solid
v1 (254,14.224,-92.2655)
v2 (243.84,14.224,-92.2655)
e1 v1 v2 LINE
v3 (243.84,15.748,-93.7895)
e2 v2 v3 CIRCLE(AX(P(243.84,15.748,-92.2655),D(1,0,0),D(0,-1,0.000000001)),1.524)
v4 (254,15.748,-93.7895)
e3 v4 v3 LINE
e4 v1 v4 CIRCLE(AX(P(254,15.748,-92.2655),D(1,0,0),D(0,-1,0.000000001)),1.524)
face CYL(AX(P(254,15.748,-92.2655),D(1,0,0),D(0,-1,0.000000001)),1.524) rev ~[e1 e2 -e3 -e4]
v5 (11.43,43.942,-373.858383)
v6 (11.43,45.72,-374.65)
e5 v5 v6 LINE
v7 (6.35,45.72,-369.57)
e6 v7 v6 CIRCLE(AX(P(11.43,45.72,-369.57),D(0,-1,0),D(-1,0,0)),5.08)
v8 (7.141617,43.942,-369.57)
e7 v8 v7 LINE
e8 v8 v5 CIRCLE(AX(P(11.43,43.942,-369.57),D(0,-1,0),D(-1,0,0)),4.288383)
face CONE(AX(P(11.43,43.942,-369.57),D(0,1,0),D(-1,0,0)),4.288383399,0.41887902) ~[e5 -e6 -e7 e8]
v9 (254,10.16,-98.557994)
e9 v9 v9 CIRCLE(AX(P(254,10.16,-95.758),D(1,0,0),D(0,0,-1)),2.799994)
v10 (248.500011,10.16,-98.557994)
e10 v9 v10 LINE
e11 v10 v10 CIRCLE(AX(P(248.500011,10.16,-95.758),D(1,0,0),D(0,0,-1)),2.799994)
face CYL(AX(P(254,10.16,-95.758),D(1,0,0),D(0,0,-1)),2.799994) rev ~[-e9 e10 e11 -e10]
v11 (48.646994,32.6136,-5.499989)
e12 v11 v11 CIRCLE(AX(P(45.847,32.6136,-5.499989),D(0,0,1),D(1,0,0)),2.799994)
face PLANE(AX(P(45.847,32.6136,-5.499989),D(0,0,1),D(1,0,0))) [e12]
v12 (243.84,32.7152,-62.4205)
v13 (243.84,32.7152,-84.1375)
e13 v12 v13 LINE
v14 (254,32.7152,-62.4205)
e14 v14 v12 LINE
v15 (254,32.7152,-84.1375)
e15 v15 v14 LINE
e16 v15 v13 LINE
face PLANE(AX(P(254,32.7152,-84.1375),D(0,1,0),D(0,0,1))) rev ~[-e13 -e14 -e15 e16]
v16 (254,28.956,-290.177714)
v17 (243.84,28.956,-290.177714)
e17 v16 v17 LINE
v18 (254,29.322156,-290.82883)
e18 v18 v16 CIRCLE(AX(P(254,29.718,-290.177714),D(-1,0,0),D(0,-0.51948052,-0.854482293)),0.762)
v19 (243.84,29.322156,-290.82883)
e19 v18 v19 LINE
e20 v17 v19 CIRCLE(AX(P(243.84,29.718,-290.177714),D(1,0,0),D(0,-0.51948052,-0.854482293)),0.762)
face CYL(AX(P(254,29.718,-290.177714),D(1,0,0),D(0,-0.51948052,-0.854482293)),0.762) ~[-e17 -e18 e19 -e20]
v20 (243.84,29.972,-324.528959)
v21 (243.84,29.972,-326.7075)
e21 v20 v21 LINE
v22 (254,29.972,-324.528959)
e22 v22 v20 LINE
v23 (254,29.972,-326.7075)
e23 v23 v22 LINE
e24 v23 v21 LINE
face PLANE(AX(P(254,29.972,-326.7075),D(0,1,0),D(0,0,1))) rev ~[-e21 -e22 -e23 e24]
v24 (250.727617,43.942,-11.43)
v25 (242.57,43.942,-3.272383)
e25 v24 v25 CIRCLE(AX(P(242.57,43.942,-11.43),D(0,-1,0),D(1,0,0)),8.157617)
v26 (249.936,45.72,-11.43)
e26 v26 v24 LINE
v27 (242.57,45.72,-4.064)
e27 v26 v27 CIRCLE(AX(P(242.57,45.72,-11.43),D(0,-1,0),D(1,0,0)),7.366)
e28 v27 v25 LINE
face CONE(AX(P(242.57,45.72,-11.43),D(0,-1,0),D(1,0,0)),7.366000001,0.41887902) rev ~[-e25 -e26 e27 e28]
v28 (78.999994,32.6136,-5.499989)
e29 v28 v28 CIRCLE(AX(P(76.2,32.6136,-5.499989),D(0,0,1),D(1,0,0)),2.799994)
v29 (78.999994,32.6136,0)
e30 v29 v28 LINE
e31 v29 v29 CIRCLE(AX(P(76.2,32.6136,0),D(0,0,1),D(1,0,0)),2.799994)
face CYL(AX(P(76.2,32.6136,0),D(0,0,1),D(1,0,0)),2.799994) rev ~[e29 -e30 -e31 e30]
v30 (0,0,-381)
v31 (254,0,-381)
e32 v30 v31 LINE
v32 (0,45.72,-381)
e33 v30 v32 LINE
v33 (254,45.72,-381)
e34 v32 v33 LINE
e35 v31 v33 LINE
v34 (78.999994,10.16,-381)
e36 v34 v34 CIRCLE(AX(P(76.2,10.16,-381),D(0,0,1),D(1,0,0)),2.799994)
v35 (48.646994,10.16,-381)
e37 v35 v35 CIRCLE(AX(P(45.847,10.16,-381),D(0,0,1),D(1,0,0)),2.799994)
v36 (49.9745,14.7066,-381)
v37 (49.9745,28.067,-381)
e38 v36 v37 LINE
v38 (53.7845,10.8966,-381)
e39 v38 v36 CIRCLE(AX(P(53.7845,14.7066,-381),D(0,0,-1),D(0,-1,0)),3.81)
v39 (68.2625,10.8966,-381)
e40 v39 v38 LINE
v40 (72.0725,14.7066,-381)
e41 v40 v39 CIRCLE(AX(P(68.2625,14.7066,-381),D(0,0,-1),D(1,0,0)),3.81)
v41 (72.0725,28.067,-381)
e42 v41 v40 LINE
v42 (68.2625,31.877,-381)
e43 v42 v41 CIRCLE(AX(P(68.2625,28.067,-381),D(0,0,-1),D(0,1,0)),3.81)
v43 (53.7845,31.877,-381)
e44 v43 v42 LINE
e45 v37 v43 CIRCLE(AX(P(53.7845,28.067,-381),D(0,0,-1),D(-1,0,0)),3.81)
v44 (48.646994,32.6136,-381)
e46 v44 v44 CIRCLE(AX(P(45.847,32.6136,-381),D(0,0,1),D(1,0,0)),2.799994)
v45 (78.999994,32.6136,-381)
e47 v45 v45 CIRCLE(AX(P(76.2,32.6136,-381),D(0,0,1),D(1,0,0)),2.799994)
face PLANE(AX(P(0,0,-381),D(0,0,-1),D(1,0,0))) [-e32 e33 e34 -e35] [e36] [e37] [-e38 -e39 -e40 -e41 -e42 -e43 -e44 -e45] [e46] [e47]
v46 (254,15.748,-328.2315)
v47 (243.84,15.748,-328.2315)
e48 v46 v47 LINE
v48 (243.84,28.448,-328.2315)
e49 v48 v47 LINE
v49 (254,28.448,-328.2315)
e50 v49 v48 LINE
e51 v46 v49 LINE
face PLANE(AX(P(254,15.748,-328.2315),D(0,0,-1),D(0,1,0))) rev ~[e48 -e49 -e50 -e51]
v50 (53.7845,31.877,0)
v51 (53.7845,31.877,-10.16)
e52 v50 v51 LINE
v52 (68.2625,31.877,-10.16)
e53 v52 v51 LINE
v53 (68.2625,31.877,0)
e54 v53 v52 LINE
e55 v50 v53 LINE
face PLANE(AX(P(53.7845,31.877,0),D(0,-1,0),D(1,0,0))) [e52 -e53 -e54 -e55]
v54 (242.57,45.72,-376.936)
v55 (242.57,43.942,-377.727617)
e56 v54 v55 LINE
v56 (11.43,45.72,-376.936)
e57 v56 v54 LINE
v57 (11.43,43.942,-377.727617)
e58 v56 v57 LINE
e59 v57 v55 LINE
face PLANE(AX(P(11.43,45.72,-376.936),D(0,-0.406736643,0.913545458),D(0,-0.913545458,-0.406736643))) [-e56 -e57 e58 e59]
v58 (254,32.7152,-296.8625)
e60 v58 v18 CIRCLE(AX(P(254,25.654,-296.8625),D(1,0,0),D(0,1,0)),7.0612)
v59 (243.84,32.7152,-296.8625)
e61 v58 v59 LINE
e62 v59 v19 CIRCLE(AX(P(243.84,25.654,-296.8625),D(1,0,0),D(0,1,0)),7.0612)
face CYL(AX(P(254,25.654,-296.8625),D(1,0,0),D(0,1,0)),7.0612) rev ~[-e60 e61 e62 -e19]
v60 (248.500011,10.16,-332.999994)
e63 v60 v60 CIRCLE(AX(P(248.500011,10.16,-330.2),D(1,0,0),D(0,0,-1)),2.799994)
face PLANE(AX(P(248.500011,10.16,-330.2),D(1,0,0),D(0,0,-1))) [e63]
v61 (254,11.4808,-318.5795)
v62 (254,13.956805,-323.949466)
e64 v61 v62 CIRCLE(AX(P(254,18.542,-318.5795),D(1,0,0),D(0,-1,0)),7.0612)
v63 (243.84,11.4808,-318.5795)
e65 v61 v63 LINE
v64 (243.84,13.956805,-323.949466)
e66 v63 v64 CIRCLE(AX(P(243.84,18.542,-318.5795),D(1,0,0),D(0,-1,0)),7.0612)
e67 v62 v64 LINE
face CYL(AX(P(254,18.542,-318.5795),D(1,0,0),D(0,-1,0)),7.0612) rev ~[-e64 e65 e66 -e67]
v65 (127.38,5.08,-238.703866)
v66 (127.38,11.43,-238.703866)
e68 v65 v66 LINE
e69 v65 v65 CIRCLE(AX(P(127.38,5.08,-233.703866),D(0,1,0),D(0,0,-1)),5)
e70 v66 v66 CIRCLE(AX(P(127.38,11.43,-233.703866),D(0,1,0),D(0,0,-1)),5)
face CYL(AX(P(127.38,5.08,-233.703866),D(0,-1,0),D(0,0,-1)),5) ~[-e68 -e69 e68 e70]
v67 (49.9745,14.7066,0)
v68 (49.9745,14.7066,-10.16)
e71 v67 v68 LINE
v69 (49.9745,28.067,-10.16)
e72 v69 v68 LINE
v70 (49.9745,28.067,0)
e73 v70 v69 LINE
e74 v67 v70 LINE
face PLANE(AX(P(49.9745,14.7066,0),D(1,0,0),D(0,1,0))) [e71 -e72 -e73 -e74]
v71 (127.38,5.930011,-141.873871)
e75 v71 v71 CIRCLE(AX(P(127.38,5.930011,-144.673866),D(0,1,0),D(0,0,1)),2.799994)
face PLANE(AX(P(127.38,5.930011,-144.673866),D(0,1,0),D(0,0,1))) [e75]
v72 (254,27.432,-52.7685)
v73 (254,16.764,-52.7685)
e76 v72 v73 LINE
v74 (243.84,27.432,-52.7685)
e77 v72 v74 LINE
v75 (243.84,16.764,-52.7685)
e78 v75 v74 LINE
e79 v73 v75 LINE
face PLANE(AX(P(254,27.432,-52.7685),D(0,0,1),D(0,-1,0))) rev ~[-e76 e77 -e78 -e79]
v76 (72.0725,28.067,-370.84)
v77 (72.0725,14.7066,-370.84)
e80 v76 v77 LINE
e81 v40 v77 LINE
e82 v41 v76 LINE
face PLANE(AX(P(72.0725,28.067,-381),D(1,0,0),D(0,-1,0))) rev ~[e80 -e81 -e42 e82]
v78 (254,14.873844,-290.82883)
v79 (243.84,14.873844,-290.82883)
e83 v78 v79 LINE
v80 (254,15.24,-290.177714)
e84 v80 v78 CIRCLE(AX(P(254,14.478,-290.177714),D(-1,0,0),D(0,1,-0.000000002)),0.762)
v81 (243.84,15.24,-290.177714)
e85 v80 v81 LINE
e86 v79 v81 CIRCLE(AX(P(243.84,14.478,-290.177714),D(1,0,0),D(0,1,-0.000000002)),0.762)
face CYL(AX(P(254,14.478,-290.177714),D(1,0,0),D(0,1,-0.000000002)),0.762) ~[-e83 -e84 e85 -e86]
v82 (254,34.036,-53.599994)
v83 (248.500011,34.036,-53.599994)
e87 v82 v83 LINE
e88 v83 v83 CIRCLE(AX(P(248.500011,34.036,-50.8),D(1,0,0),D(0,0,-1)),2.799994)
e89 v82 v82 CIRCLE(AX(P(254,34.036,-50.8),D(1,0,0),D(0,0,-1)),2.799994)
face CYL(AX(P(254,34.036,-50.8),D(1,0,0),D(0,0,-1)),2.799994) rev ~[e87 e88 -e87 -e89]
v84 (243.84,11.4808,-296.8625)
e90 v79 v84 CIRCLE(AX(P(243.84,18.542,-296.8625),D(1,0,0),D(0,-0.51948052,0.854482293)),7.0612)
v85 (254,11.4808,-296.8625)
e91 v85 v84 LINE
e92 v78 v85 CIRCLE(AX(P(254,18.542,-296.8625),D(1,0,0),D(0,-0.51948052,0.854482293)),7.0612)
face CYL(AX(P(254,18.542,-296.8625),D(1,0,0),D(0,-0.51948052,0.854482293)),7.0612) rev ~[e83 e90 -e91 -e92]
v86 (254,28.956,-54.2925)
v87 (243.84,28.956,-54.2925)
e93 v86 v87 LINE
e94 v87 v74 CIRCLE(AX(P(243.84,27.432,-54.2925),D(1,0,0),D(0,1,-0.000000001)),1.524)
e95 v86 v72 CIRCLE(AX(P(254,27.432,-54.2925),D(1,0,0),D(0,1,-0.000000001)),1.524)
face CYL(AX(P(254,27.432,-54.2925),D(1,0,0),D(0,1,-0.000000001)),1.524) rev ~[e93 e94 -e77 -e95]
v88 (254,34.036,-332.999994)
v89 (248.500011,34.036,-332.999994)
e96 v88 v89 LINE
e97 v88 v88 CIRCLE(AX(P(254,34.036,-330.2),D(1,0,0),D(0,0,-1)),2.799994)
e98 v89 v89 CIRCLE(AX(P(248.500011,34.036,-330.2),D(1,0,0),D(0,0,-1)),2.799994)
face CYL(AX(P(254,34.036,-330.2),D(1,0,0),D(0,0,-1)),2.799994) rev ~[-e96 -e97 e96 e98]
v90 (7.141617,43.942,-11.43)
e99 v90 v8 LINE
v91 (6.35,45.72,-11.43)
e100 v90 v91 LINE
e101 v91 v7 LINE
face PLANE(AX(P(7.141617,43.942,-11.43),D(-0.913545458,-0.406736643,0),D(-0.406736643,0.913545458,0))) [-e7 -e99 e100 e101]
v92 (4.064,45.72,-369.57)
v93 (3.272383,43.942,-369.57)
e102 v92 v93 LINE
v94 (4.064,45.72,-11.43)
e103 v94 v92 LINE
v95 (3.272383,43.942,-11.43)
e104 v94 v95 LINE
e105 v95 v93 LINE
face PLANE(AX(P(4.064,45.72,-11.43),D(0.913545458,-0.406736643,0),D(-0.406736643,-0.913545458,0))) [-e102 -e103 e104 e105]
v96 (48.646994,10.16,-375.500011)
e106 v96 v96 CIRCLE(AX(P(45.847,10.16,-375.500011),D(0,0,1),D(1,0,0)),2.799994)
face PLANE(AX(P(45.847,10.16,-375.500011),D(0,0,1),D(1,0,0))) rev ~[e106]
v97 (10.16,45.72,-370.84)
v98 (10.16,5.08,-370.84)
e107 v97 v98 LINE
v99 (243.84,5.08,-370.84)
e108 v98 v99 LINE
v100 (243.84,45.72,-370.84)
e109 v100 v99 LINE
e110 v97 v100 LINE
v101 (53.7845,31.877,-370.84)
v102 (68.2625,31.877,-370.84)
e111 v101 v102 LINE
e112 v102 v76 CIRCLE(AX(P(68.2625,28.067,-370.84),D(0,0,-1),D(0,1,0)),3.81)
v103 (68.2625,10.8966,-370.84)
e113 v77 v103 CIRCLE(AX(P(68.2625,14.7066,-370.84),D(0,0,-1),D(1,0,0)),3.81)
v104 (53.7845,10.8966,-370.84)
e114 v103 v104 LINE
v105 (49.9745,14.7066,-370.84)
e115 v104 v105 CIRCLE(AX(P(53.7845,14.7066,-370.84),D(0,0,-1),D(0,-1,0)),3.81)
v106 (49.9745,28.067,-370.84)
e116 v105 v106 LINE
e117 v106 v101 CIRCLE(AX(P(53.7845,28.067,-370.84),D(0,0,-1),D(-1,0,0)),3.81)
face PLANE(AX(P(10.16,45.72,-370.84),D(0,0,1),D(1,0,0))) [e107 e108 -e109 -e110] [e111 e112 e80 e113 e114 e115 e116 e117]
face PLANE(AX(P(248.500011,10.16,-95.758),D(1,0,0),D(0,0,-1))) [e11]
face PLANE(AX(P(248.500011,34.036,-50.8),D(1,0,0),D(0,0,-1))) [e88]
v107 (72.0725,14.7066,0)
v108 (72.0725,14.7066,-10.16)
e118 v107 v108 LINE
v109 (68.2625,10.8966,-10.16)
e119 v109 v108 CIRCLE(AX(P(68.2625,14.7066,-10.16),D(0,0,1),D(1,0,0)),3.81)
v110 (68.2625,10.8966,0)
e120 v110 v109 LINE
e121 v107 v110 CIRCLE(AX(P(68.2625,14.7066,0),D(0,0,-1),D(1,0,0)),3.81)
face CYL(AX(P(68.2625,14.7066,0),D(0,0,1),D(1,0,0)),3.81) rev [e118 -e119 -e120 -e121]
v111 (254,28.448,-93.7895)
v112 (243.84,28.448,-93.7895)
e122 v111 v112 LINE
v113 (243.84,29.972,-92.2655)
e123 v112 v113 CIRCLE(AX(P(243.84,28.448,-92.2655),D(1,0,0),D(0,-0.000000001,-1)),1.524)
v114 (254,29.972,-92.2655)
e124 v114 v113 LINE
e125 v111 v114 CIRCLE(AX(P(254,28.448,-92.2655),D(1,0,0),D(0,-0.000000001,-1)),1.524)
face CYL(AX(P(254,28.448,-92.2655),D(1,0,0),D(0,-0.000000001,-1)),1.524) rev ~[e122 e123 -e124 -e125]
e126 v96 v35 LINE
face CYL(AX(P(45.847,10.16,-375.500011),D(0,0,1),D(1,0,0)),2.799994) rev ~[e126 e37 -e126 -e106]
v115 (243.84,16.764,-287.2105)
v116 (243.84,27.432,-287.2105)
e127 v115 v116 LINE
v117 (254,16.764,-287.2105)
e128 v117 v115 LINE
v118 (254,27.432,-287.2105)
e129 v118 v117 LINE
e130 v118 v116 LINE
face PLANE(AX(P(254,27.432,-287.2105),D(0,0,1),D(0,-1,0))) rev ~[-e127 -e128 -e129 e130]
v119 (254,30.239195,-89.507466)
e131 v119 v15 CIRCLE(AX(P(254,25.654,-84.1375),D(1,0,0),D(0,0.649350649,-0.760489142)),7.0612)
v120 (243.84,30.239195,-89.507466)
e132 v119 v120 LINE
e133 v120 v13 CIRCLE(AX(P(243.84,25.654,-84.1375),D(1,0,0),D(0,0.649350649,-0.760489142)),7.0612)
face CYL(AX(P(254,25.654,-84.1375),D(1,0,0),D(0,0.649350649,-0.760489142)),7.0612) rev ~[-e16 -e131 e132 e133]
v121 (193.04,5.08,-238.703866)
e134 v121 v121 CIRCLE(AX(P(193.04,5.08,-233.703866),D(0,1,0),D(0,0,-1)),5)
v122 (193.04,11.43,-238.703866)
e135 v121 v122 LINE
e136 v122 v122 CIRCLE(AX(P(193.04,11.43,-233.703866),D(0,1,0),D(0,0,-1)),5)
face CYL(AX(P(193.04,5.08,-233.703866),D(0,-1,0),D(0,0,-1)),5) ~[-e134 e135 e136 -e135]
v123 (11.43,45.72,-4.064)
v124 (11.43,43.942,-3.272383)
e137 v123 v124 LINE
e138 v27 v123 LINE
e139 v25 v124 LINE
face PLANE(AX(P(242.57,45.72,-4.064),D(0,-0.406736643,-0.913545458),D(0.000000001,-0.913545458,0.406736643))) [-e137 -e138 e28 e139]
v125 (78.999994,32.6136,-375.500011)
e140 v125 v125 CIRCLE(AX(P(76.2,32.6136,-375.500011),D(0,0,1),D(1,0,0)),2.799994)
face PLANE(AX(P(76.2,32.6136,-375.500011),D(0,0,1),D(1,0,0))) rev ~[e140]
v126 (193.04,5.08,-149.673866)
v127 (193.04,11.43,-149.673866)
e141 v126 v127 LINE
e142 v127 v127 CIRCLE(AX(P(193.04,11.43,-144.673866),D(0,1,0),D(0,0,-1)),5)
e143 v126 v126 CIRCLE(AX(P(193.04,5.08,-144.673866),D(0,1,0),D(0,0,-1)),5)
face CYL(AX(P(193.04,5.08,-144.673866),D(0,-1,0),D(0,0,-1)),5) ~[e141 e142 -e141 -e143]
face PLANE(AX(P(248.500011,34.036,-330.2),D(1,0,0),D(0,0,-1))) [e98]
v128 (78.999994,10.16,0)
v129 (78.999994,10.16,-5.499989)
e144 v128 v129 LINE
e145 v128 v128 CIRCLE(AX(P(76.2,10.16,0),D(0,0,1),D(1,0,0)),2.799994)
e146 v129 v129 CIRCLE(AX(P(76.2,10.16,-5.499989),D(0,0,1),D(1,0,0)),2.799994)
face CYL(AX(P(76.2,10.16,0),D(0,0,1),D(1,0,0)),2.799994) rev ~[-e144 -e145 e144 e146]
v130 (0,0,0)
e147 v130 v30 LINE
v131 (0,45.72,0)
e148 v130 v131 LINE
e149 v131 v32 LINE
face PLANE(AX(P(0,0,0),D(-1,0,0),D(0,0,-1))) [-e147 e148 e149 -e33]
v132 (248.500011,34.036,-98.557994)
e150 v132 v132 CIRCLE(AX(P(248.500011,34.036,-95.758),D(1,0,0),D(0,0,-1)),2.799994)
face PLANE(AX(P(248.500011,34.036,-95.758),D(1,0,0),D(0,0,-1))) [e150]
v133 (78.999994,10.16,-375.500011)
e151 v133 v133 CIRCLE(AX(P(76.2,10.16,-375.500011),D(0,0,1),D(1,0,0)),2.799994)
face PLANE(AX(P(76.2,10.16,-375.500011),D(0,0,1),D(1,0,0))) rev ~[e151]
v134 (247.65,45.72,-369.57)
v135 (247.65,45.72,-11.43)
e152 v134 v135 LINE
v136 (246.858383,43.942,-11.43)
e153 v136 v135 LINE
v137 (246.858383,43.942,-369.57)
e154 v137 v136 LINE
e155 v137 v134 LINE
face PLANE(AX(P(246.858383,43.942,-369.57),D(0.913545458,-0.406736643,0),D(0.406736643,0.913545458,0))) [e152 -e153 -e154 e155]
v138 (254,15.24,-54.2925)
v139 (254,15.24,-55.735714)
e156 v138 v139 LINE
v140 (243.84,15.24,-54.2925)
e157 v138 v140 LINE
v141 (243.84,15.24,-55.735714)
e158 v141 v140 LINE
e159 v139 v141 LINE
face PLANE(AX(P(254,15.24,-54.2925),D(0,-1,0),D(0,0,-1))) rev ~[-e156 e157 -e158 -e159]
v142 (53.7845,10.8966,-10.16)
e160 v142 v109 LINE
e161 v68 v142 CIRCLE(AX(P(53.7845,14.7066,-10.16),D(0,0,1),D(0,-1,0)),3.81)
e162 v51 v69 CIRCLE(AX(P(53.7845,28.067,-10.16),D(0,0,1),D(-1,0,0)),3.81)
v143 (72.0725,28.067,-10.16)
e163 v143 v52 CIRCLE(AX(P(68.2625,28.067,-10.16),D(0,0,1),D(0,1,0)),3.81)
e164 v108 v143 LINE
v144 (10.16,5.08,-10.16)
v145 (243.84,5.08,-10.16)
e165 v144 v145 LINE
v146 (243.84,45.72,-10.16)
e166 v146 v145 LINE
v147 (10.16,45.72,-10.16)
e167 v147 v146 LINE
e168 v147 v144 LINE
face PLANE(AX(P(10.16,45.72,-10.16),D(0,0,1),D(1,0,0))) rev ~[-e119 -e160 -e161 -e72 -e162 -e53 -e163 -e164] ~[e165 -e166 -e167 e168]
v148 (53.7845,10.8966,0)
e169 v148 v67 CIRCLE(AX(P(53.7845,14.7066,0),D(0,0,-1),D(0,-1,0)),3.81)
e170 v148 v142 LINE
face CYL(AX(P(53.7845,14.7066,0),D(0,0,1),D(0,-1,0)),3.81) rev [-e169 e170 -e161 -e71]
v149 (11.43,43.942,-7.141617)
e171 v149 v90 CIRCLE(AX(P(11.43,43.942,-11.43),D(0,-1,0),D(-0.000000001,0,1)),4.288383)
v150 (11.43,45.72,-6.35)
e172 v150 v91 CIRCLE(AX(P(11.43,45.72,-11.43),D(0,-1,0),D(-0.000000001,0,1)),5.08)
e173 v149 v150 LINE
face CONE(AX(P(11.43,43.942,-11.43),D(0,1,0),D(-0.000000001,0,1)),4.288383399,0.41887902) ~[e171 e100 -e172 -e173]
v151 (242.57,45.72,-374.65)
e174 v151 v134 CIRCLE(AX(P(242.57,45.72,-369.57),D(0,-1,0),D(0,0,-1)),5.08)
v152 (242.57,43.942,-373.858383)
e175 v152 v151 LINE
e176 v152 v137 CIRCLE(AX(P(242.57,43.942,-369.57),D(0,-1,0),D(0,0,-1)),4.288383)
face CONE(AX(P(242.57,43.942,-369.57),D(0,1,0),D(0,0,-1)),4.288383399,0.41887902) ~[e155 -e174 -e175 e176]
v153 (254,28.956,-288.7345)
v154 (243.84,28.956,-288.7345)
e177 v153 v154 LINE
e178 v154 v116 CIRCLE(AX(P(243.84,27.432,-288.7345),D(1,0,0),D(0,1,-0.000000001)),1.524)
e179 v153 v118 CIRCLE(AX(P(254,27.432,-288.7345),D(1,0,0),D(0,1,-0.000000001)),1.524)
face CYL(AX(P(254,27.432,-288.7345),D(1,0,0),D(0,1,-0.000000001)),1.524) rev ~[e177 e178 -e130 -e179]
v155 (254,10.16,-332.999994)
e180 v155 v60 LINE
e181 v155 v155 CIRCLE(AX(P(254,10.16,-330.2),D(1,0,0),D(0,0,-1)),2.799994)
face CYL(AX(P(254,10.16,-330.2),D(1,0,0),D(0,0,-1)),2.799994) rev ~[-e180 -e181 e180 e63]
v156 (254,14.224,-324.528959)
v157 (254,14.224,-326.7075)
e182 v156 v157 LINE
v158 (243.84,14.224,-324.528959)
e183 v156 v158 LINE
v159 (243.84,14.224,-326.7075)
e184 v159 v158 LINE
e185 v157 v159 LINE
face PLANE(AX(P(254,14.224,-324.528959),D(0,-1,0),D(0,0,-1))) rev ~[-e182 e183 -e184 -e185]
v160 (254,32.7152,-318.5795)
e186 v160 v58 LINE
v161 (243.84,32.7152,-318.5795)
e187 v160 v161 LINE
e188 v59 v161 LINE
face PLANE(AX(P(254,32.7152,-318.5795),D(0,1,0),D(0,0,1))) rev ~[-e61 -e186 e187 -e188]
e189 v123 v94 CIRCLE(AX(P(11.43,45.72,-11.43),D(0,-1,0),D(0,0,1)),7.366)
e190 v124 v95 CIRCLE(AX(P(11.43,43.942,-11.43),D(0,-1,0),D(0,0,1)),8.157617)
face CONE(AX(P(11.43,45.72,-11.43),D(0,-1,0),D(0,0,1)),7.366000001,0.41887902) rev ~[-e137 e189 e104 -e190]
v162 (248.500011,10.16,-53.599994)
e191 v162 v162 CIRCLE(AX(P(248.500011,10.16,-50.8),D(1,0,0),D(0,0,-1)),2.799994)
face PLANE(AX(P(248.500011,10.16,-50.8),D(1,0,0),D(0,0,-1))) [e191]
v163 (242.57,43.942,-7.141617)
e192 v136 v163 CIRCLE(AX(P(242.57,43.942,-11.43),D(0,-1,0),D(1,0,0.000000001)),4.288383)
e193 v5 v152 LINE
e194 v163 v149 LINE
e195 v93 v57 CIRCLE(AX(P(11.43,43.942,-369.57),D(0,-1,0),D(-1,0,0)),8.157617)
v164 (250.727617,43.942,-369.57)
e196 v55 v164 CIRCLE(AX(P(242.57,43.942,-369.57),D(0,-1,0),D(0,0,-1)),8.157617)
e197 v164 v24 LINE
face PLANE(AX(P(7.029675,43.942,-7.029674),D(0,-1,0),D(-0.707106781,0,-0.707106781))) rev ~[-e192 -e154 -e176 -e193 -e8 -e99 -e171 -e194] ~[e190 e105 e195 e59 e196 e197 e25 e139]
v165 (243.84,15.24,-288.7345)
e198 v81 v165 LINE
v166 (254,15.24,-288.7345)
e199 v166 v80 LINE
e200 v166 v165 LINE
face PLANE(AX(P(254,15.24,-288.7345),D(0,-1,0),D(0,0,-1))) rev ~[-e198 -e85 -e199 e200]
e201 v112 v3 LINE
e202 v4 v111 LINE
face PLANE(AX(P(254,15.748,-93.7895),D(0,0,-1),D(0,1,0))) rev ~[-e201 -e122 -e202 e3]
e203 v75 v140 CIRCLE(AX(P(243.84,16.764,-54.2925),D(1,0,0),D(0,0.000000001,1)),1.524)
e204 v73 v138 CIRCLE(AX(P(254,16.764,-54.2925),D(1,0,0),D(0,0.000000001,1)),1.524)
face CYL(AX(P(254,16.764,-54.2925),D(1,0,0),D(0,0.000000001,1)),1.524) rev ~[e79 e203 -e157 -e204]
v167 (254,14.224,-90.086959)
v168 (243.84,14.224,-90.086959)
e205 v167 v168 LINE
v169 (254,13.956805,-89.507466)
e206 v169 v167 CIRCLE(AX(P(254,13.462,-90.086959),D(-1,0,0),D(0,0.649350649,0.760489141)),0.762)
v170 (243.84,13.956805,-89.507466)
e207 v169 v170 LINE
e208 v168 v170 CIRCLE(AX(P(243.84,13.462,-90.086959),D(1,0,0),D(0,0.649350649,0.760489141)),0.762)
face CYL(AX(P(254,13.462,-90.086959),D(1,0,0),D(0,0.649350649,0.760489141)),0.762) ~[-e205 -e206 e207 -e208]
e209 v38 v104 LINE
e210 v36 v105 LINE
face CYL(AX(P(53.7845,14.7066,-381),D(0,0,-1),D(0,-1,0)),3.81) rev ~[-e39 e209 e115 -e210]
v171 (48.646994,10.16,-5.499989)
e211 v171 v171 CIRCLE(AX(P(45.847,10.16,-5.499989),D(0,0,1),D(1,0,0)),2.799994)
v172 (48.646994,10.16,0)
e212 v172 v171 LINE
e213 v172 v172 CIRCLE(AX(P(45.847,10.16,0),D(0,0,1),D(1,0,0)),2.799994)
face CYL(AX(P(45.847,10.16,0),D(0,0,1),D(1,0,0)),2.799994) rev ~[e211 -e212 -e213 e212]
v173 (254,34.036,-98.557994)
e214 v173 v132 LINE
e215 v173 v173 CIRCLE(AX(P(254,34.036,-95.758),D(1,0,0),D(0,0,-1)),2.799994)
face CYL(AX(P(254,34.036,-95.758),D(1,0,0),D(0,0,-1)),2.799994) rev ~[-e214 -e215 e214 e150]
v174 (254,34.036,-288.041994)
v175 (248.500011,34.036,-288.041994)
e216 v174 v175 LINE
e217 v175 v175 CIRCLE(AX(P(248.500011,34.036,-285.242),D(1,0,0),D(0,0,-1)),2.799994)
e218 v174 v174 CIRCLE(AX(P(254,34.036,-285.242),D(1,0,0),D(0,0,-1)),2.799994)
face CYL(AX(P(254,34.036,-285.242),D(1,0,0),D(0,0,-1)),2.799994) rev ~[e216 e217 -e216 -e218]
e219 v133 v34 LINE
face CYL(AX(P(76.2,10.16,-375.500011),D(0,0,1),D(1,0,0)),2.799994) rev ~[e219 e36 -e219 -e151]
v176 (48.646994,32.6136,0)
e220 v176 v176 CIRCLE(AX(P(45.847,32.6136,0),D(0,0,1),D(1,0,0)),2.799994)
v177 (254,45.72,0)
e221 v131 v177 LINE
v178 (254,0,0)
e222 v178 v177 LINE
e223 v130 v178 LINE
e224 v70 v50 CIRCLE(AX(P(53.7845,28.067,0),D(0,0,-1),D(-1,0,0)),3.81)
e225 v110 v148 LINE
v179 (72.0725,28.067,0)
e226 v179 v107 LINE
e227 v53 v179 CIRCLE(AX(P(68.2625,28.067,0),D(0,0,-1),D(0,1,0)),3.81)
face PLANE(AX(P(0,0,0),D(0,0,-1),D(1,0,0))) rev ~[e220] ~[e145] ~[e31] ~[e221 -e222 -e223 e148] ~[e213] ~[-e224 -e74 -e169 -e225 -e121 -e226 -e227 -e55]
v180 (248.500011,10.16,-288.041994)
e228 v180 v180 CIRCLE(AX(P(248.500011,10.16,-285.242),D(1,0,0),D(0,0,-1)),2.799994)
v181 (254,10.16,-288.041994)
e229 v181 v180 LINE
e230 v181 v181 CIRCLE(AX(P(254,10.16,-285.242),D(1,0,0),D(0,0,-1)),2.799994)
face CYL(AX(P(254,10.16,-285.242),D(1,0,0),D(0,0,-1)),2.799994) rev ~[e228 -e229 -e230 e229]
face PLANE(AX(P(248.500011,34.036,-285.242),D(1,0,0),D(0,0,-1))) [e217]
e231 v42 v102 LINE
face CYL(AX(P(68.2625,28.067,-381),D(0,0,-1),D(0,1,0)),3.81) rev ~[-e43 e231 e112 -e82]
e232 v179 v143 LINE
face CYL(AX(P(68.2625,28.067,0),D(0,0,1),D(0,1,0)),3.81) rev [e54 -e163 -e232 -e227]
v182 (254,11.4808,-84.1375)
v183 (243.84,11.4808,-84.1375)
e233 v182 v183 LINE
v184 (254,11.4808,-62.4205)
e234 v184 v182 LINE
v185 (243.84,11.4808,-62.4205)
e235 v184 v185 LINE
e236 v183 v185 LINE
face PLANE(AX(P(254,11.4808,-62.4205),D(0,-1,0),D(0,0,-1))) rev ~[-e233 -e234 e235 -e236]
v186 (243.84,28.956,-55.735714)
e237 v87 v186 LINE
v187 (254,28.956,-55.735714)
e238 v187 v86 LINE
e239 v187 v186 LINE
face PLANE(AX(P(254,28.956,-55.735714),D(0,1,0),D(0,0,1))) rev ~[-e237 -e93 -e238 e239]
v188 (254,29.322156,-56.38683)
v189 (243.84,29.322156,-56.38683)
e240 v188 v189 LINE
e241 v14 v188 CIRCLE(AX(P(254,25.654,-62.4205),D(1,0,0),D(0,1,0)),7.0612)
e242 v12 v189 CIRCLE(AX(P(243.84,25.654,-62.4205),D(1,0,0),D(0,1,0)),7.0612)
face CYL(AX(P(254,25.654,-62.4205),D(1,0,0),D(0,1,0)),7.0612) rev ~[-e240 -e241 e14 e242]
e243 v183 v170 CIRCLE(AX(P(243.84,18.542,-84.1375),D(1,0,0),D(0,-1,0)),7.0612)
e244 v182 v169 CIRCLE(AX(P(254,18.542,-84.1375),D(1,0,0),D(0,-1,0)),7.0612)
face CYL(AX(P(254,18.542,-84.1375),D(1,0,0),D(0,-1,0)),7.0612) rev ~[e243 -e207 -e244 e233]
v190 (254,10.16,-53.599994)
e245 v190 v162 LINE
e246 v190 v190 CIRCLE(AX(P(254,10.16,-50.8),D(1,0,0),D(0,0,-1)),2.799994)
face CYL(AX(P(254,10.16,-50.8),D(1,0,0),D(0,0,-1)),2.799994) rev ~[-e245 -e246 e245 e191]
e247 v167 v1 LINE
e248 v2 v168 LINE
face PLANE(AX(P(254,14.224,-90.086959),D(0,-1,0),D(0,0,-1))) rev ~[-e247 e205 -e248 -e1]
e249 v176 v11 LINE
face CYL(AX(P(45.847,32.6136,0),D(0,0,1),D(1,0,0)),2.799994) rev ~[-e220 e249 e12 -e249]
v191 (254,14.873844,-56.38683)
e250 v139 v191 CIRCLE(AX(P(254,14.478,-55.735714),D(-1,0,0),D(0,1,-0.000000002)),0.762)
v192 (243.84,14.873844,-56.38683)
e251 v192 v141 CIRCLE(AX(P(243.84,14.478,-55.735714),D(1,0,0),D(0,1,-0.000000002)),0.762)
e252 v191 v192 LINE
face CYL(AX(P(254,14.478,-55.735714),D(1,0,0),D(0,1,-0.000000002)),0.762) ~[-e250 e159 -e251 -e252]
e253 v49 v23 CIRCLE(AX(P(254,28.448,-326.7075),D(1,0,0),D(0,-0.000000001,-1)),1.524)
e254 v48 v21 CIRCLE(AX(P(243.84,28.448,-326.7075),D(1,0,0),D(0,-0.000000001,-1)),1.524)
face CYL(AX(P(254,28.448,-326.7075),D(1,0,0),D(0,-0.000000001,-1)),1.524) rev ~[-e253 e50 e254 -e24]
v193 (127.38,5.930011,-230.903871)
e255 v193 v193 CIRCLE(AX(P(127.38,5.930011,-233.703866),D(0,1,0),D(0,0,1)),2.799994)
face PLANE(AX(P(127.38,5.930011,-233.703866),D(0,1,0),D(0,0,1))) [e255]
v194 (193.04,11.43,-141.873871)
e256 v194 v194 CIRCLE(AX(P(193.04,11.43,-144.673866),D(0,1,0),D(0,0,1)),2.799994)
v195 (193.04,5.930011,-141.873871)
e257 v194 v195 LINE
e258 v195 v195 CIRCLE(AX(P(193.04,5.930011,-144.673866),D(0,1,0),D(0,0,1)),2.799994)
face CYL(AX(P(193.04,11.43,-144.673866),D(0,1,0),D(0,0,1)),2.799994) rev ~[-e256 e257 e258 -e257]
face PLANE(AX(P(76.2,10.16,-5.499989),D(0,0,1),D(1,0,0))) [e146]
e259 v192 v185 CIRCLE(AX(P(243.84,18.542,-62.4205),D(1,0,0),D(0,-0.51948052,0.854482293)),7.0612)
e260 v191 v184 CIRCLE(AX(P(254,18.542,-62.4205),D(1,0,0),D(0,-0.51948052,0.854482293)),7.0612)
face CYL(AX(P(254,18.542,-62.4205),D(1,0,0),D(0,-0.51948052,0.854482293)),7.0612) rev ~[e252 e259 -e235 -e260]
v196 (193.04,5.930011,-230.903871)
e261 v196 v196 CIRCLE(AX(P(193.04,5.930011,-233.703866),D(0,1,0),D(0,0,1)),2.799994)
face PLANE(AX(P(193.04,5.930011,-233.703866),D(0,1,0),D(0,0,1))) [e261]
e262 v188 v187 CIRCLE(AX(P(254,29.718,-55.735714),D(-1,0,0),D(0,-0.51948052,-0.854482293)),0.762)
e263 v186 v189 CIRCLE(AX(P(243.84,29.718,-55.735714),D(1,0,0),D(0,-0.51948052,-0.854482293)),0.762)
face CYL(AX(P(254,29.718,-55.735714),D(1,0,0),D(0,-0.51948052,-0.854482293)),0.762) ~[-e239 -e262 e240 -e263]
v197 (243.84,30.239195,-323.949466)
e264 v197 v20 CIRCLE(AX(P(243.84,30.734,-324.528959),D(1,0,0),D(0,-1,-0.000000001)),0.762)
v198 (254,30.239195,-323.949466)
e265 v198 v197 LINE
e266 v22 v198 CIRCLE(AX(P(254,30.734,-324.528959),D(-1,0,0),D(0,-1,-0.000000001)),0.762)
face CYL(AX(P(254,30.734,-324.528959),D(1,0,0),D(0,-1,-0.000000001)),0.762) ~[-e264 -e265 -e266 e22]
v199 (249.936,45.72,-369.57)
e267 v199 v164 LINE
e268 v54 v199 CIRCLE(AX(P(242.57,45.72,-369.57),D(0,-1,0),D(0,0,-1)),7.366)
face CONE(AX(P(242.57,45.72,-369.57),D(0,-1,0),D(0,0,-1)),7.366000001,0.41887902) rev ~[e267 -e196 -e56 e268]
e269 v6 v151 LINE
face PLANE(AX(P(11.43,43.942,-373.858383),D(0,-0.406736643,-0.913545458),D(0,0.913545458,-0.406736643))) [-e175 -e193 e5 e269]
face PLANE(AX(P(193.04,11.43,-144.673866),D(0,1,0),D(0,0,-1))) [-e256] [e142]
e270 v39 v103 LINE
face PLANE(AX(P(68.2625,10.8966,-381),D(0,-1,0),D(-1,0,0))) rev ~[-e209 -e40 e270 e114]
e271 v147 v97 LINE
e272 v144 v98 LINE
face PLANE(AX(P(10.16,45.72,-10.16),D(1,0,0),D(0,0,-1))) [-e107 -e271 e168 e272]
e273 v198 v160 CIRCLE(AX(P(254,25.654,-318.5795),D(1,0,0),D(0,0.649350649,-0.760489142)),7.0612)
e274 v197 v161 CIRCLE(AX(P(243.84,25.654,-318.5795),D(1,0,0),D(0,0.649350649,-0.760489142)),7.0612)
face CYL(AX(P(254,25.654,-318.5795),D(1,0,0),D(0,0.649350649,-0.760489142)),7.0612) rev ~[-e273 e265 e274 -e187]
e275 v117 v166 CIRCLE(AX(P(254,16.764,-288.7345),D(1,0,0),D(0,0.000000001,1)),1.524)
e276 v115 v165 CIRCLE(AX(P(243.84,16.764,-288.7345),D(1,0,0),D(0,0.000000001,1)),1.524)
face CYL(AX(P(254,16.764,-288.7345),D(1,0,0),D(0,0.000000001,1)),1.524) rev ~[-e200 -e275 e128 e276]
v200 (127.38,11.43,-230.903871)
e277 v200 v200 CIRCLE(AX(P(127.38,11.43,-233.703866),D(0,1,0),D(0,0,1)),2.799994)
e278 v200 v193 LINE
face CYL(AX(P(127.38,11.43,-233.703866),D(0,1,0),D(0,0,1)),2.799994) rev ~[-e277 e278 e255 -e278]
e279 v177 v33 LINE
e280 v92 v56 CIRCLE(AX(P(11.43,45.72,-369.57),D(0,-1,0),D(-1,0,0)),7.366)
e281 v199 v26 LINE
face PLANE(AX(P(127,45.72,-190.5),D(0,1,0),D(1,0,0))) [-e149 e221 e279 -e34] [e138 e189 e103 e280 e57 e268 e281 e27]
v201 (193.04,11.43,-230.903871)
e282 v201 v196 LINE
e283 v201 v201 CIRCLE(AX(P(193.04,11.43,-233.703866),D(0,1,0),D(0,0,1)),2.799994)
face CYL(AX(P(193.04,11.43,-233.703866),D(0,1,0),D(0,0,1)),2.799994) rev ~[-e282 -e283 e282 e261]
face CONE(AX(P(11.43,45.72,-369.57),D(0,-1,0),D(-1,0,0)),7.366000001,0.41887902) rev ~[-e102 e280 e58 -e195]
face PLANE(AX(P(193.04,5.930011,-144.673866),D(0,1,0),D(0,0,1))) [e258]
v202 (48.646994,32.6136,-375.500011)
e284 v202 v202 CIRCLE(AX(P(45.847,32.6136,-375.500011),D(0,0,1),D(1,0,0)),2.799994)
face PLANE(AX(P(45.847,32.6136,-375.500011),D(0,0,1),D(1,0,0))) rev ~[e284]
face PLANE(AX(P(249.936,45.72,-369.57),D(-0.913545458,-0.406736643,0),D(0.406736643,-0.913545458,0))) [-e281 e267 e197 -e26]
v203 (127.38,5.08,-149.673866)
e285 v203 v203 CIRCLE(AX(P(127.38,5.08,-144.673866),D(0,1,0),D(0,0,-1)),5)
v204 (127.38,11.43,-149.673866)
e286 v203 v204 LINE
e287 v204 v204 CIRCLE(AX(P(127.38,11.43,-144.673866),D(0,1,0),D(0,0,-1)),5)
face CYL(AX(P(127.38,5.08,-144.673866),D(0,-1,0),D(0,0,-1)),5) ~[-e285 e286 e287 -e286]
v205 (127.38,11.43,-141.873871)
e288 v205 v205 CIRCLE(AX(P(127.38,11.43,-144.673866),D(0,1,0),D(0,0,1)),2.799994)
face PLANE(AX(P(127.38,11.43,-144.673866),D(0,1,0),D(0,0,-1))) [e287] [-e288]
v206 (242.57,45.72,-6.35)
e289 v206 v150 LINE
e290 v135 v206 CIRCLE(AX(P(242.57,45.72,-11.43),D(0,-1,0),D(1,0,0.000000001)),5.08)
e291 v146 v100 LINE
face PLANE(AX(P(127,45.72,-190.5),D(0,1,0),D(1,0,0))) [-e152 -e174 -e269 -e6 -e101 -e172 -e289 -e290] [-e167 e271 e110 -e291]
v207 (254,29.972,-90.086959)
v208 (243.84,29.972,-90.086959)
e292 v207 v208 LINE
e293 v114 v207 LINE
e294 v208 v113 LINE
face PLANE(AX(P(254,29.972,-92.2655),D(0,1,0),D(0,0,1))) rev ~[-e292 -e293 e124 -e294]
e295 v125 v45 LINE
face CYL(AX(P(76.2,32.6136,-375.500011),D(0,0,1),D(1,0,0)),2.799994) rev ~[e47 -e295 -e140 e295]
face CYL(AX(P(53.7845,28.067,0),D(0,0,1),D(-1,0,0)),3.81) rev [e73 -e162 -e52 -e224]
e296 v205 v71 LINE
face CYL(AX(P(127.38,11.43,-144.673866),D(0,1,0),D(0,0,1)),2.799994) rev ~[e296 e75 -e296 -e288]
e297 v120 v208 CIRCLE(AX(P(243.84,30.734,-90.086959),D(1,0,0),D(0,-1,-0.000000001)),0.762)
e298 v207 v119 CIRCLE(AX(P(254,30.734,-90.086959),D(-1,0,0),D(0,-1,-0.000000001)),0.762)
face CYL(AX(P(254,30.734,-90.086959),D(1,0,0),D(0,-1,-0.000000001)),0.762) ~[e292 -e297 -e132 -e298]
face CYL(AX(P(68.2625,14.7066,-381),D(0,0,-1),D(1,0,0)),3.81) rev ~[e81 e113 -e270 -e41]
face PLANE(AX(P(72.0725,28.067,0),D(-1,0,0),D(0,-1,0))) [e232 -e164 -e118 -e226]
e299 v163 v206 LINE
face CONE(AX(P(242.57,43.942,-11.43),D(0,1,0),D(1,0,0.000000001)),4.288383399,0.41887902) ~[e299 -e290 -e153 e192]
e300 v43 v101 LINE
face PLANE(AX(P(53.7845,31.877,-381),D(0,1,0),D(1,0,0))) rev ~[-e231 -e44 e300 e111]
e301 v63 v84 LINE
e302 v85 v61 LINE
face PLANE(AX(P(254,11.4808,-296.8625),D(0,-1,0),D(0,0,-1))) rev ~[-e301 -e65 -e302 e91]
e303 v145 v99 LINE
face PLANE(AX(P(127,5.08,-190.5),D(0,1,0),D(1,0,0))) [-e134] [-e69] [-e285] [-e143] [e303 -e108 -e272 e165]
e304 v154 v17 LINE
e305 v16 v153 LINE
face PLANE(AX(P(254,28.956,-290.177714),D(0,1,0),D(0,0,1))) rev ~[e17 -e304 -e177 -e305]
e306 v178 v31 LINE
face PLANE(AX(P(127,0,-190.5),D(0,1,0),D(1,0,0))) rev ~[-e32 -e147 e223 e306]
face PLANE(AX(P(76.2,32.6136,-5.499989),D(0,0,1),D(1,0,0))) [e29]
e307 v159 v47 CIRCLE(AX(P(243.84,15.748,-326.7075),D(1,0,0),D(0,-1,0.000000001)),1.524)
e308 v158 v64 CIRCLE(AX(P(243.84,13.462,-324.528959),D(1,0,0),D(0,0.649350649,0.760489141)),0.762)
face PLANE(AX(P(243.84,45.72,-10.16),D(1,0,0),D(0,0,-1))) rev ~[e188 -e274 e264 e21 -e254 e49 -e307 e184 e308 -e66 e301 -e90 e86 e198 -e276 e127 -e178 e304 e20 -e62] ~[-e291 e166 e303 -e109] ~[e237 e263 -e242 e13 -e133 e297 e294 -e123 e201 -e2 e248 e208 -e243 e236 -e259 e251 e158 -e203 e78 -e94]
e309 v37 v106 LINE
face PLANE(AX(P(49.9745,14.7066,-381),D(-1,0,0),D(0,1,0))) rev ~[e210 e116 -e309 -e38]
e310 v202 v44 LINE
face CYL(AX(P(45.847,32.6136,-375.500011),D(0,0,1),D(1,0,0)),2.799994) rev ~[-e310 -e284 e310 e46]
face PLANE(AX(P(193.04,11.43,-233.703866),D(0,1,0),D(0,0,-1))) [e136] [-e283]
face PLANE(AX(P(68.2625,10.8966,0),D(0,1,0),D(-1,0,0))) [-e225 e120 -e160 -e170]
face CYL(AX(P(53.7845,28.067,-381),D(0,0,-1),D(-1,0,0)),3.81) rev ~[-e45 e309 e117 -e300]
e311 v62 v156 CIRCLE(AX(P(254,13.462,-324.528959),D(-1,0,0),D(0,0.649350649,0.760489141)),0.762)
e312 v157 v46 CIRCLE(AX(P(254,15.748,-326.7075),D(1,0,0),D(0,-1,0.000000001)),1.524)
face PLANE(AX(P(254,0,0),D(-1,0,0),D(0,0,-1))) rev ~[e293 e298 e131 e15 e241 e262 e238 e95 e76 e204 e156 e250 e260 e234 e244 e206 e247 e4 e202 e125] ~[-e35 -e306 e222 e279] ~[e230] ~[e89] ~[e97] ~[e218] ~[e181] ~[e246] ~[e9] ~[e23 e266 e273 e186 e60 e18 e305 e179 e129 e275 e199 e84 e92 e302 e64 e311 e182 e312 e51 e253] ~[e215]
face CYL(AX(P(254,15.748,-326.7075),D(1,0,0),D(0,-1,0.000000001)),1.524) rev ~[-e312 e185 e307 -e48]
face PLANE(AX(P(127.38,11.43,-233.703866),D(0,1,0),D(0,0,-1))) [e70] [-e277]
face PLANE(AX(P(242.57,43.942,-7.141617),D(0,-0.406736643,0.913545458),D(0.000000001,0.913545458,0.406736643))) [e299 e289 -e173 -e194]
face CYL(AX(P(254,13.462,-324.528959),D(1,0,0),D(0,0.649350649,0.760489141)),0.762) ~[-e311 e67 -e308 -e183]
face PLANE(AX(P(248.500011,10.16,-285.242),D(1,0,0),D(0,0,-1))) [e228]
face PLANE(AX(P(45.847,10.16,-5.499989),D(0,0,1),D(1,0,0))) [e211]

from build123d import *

# Parameters (mm, degrees)
SKETCH1_W           = 254
SKETCH1_H           = 381
BOSS_EXTRUDE1_DEPTH = 45.72
SKETCH2_W           = 233.68
SKETCH2_H           = 360.68
CUT_EXTRUDE1_DEPTH  = 40.64
CUT_EXTRUDE10_REACH = 462.182
F_12_PIN_MOUNT_R    = 2.7999944
CUT_EXTRUDE3_DEPTH  = 5.499989
CUT_EXTRUDE5_REACH  = 462.182
CUT_EXTRUDE6_START  = -381
CUT_EXTRUDE6_DEPTH  = 10.16
SKETCH6_R           = 2.7999944
CUT_EXTRUDE7_DEPTH  = 5.499989
CUT_EXTRUDE8_START  = -375.500011
SKETCH6_2_R         = 2.7999944
CUT_EXTRUDE8_DEPTH  = 5.499989
SKETCH7_R           = 5
BOSS_EXTRUDE2_DEPTH = 6.35
CUT_EXTRUDE9_START  = 6.35
SKETCH8_R           = 2.7999944
CUT_EXTRUDE9_DEPTH  = 5.499989


with BuildPart() as part:
    # Sketch1 → Boss-Extrude1 (new body)
    with BuildSketch(Plane(origin=(0, 0, 0), x_dir=(1, 0, 0), z_dir=(0, 1, 0))):
        with Locations((127, 190.5)):
            Rectangle(SKETCH1_W, SKETCH1_H)
    extrude(amount=BOSS_EXTRUDE1_DEPTH)

    # Sketch2 → Cut-Extrude1 (cut)
    with BuildSketch(Plane(origin=(0, 45.72, 0), x_dir=(1, 0, 0), z_dir=(0, 1, 0))):
        with Locations((127, 190.5)):
            Rectangle(SKETCH2_W, SKETCH2_H)
    extrude(amount=-CUT_EXTRUDE1_DEPTH, mode=Mode.SUBTRACT)

    # Cut-Sweep2: sweep along a path in Sketch3
    with BuildLine(Plane(origin=(0, 45.72, 0), x_dir=(1, 0, 0), z_dir=(0, 1, 0))) as cut_sweep2_path:
        Line((6.35, 11.43), (6.35, 369.57))
        ThreePointArc((6.35, 369.57), (7.837897552, 373.162102448), (11.43, 374.65))
        Line((11.43, 374.65), (242.57, 374.65))
        ThreePointArc((242.57, 374.65), (246.162102448, 373.162102448), (247.65, 369.57))
        Line((247.65, 369.57), (247.65, 11.43))
        ThreePointArc((247.65, 11.43), (246.162102448, 7.837897552), (242.57, 6.35))
        Line((242.57, 6.35), (11.43, 6.35))
        ThreePointArc((11.43, 6.35), (7.837897552, 7.837897552), (6.35, 11.43))
    # Sketch4 → Cut-Sweep2 (sweep, cut)
    with BuildSketch(Plane.XY.offset(-15.24)):
        Polygon((4.064, 45.72), (3.272383398, 43.942), (7.141616602, 43.942), (6.35, 45.72), align=None)
    sweep(path=cut_sweep2_path.line, mode=Mode.SUBTRACT)

    # Sketch13 → Cut-Extrude10 (cut, up to next)
    with BuildSketch(Plane(origin=(254, 0, 0), x_dir=(0, 0, -1), z_dir=(1, 0, 0)), mode=Mode.PRIVATE) as cut_extrude10_sk1:
        with BuildLine():
            Line((55.735714122, 28.956), (54.2925, 28.956))
            ThreePointArc((54.2925, 28.956), (53.214869265, 28.509630735), (52.7685, 27.432))
            Line((52.7685, 27.432), (52.7685, 16.764))
            ThreePointArc((52.7685, 16.764), (53.214869265, 15.686369265), (54.2925, 15.24))
            Line((54.2925, 15.24), (55.735714122, 15.24))
            ThreePointArc((55.735714122, 15.24), (56.109218307, 15.142182673), (56.386829629, 14.873844156))
            ThreePointArc((56.386829629, 14.873844156), (58.959361214, 12.387240562), (62.4205, 11.4808))
            Line((62.4205, 11.4808), (84.1375, 11.4808))
            ThreePointArc((84.1375, 11.4808), (87.094150798, 12.129608753), (89.507465925, 13.956805195))
            ThreePointArc((89.507465925, 13.956805195), (89.767895615, 14.153984667), (90.086958651, 14.224))
            Line((90.086958651, 14.224), (92.2655, 14.224))
            ThreePointArc((92.2655, 14.224), (93.343130735, 14.670369265), (93.7895, 15.748))
            Line((93.7895, 15.748), (93.7895, 28.448))
            ThreePointArc((93.7895, 28.448), (93.343130735, 29.525630735), (92.2655, 29.972))
            Line((92.2655, 29.972), (90.086958651, 29.972))
            ThreePointArc((90.086958651, 29.972), (89.767895615, 30.042015333), (89.507465925, 30.239194805))
            ThreePointArc((89.507465925, 30.239194805), (87.094150798, 32.066391247), (84.1375, 32.7152))
            Line((84.1375, 32.7152), (62.4205, 32.7152))
            ThreePointArc((62.4205, 32.7152), (58.959361214, 31.808759438), (56.386829629, 29.322155844))
            ThreePointArc((56.386829629, 29.322155844), (56.109218307, 29.053817327), (55.735714122, 28.956))
        make_face()
    cut_extrude10_tool1 = extrude(cut_extrude10_sk1.sketch, amount=-CUT_EXTRUDE10_REACH, mode=Mode.PRIVATE) & part.part
    # Sketch13 → Cut-Extrude10 (cut, up to next)
    with BuildSketch(Plane(origin=(254, 0, 0), x_dir=(0, 0, -1), z_dir=(1, 0, 0)), mode=Mode.PRIVATE) as cut_extrude10_sk2:
        with BuildLine():
            Line((290.177714122, 28.956), (288.7345, 28.956))
            ThreePointArc((288.7345, 28.956), (287.656869265, 28.509630735), (287.2105, 27.432))
            Line((287.2105, 27.432), (287.2105, 16.764))
            ThreePointArc((287.2105, 16.764), (287.656869265, 15.686369265), (288.7345, 15.24))
            Line((288.7345, 15.24), (290.177714122, 15.24))
            ThreePointArc((290.177714122, 15.24), (290.551218307, 15.142182673), (290.828829629, 14.873844156))
            ThreePointArc((290.828829629, 14.873844156), (293.401361214, 12.387240562), (296.8625, 11.4808))
            Line((296.8625, 11.4808), (318.5795, 11.4808))
            ThreePointArc((318.5795, 11.4808), (321.536150798, 12.129608753), (323.949465925, 13.956805195))
            ThreePointArc((323.949465925, 13.956805195), (324.209895615, 14.153984667), (324.528958651, 14.224))
            Line((324.528958651, 14.224), (326.7075, 14.224))
            ThreePointArc((326.7075, 14.224), (327.785130735, 14.670369265), (328.2315, 15.748))
            Line((328.2315, 15.748), (328.2315, 28.448))
            ThreePointArc((328.2315, 28.448), (327.785130735, 29.525630735), (326.7075, 29.972))
            Line((326.7075, 29.972), (324.528958651, 29.972))
            ThreePointArc((324.528958651, 29.972), (324.209895615, 30.042015333), (323.949465925, 30.239194805))
            ThreePointArc((323.949465925, 30.239194805), (321.536150798, 32.066391247), (318.5795, 32.7152))
            Line((318.5795, 32.7152), (296.8625, 32.7152))
            ThreePointArc((296.8625, 32.7152), (293.401361214, 31.808759438), (290.828829629, 29.322155844))
            ThreePointArc((290.828829629, 29.322155844), (290.551218307, 29.053817327), (290.177714122, 28.956))
        make_face()
    cut_extrude10_tool2 = extrude(cut_extrude10_sk2.sketch, amount=-CUT_EXTRUDE10_REACH, mode=Mode.PRIVATE) & part.part
    add(cut_extrude10_tool1.solids().sort_by_distance((254, 22.098, -73.454803))[0], mode=Mode.SUBTRACT)
    add(cut_extrude10_tool2.solids().sort_by_distance((254, 22.098, -307.896803))[0], mode=Mode.SUBTRACT)

    # 12 pin mount → Cut-Extrude3 (cut)
    with BuildSketch(Plane(origin=(254, 0, 0), x_dir=(0, 0, -1), z_dir=(1, 0, 0))):
        with Locations((95.758, 34.036)):
            Circle(F_12_PIN_MOUNT_R)
        with Locations((95.758, 10.16)):
            Circle(F_12_PIN_MOUNT_R)
        with Locations((50.8, 10.16)):
            Circle(F_12_PIN_MOUNT_R)
        with Locations((50.8, 34.036)):
            Circle(F_12_PIN_MOUNT_R)
        with Locations((285.242, 34.036)):
            Circle(F_12_PIN_MOUNT_R)
        with Locations((330.2, 34.036)):
            Circle(F_12_PIN_MOUNT_R)
        with Locations((330.2, 10.16)):
            Circle(F_12_PIN_MOUNT_R)
        with Locations((285.242, 10.16)):
            Circle(F_12_PIN_MOUNT_R)
    extrude(amount=-CUT_EXTRUDE3_DEPTH, mode=Mode.SUBTRACT)

    # 4 pin connector → Cut-Extrude5 (cut, up to next)
    with BuildSketch(Plane.XY, mode=Mode.PRIVATE) as cut_extrude5_sk1:
        with BuildLine():
            Line((53.7845, 31.877), (68.2625, 31.877))
            ThreePointArc((68.2625, 31.877), (70.956576836, 30.761076836), (72.0725, 28.067))
            Line((72.0725, 28.067), (72.0725, 14.7066))
            ThreePointArc((72.0725, 14.7066), (70.956576836, 12.012523164), (68.2625, 10.8966))
            Line((68.2625, 10.8966), (53.7845, 10.8966))
            ThreePointArc((53.7845, 10.8966), (51.090423164, 12.012523164), (49.9745, 14.7066))
            Line((49.9745, 14.7066), (49.9745, 28.067))
            ThreePointArc((49.9745, 28.067), (51.090423164, 30.761076836), (53.7845, 31.877))
        make_face()
    cut_extrude5_tool1 = extrude(cut_extrude5_sk1.sketch, amount=-CUT_EXTRUDE5_REACH, mode=Mode.PRIVATE) & part.part
    add(cut_extrude5_tool1.solids().sort_by_distance((61.0235, 21.3868, 0))[0], mode=Mode.SUBTRACT)

    # Sketch5<2> → Cut-Extrude6 (cut)
    with BuildSketch(Plane.XY.offset(CUT_EXTRUDE6_START)):
        with BuildLine():
            Line((53.7845, 31.877), (68.2625, 31.877))
            ThreePointArc((68.2625, 31.877), (70.956576836, 30.761076836), (72.0725, 28.067))
            Line((72.0725, 28.067), (72.0725, 14.7066))
            ThreePointArc((72.0725, 14.7066), (70.956576836, 12.012523164), (68.2625, 10.8966))
            Line((68.2625, 10.8966), (53.7845, 10.8966))
            ThreePointArc((53.7845, 10.8966), (51.090423164, 12.012523164), (49.9745, 14.7066))
            Line((49.9745, 14.7066), (49.9745, 28.067))
            ThreePointArc((49.9745, 28.067), (51.090423164, 30.761076836), (53.7845, 31.877))
        make_face()
    extrude(amount=CUT_EXTRUDE6_DEPTH, mode=Mode.SUBTRACT)

    # Sketch6 → Cut-Extrude7 (cut)
    with BuildSketch(Plane.XY):
        with Locations((76.2, 32.6136)):
            Circle(SKETCH6_R)
        with Locations((76.2, 10.16)):
            Circle(SKETCH6_R)
        with Locations((45.847, 10.16)):
            Circle(SKETCH6_R)
        with Locations((45.847, 32.6136)):
            Circle(SKETCH6_R)
    extrude(amount=-CUT_EXTRUDE7_DEPTH, mode=Mode.SUBTRACT)

    # Sketch6<2> → Cut-Extrude8 (cut)
    with BuildSketch(Plane.XY.offset(CUT_EXTRUDE8_START)):
        with Locations((76.2, 32.6136)):
            Circle(SKETCH6_2_R)
        with Locations((76.2, 10.16)):
            Circle(SKETCH6_2_R)
        with Locations((45.847, 10.16)):
            Circle(SKETCH6_2_R)
        with Locations((45.847, 32.6136)):
            Circle(SKETCH6_2_R)
    extrude(amount=-CUT_EXTRUDE8_DEPTH, mode=Mode.SUBTRACT)

    # Sketch7 → Boss-Extrude2 (add)
    with BuildSketch(Plane(origin=(0, 5.08, 0), x_dir=(1, 0, 0), z_dir=(0, 1, 0))):
        with Locations(Location((127.38, 144.673865575, 0), (0, 0, 90))):
            Circle(SKETCH7_R)
        with Locations(Location((193.04, 144.673865575, 0), (0, 0, 90))):
            Circle(SKETCH7_R)
        with Locations(Location((193.04, 233.703865575, 0), (0, 0, 90))):
            Circle(SKETCH7_R)
        with Locations(Location((127.38, 233.703865575, 0), (0, 0, 90))):
            Circle(SKETCH7_R)
    extrude(amount=BOSS_EXTRUDE2_DEPTH)

    # Sketch8 → Cut-Extrude9 (cut)
    with BuildSketch(Plane(origin=(0, 5.08, 0), x_dir=(1, 0, 0), z_dir=(0, 1, 0)).offset(CUT_EXTRUDE9_START)):
        with Locations(Location((127.38, 233.703865575, 0), (0, 0, 270))):
            Circle(SKETCH8_R)
        with Locations(Location((193.04, 233.703865575, 0), (0, 0, 270))):
            Circle(SKETCH8_R)
        with Locations(Location((193.04, 144.673865575, 0), (0, 0, 270))):
            Circle(SKETCH8_R)
        with Locations(Location((127.38, 144.673865575, 0), (0, 0, 270))):
            Circle(SKETCH8_R)
    extrude(amount=-CUT_EXTRUDE9_DEPTH, mode=Mode.SUBTRACT)


solid = part.part
